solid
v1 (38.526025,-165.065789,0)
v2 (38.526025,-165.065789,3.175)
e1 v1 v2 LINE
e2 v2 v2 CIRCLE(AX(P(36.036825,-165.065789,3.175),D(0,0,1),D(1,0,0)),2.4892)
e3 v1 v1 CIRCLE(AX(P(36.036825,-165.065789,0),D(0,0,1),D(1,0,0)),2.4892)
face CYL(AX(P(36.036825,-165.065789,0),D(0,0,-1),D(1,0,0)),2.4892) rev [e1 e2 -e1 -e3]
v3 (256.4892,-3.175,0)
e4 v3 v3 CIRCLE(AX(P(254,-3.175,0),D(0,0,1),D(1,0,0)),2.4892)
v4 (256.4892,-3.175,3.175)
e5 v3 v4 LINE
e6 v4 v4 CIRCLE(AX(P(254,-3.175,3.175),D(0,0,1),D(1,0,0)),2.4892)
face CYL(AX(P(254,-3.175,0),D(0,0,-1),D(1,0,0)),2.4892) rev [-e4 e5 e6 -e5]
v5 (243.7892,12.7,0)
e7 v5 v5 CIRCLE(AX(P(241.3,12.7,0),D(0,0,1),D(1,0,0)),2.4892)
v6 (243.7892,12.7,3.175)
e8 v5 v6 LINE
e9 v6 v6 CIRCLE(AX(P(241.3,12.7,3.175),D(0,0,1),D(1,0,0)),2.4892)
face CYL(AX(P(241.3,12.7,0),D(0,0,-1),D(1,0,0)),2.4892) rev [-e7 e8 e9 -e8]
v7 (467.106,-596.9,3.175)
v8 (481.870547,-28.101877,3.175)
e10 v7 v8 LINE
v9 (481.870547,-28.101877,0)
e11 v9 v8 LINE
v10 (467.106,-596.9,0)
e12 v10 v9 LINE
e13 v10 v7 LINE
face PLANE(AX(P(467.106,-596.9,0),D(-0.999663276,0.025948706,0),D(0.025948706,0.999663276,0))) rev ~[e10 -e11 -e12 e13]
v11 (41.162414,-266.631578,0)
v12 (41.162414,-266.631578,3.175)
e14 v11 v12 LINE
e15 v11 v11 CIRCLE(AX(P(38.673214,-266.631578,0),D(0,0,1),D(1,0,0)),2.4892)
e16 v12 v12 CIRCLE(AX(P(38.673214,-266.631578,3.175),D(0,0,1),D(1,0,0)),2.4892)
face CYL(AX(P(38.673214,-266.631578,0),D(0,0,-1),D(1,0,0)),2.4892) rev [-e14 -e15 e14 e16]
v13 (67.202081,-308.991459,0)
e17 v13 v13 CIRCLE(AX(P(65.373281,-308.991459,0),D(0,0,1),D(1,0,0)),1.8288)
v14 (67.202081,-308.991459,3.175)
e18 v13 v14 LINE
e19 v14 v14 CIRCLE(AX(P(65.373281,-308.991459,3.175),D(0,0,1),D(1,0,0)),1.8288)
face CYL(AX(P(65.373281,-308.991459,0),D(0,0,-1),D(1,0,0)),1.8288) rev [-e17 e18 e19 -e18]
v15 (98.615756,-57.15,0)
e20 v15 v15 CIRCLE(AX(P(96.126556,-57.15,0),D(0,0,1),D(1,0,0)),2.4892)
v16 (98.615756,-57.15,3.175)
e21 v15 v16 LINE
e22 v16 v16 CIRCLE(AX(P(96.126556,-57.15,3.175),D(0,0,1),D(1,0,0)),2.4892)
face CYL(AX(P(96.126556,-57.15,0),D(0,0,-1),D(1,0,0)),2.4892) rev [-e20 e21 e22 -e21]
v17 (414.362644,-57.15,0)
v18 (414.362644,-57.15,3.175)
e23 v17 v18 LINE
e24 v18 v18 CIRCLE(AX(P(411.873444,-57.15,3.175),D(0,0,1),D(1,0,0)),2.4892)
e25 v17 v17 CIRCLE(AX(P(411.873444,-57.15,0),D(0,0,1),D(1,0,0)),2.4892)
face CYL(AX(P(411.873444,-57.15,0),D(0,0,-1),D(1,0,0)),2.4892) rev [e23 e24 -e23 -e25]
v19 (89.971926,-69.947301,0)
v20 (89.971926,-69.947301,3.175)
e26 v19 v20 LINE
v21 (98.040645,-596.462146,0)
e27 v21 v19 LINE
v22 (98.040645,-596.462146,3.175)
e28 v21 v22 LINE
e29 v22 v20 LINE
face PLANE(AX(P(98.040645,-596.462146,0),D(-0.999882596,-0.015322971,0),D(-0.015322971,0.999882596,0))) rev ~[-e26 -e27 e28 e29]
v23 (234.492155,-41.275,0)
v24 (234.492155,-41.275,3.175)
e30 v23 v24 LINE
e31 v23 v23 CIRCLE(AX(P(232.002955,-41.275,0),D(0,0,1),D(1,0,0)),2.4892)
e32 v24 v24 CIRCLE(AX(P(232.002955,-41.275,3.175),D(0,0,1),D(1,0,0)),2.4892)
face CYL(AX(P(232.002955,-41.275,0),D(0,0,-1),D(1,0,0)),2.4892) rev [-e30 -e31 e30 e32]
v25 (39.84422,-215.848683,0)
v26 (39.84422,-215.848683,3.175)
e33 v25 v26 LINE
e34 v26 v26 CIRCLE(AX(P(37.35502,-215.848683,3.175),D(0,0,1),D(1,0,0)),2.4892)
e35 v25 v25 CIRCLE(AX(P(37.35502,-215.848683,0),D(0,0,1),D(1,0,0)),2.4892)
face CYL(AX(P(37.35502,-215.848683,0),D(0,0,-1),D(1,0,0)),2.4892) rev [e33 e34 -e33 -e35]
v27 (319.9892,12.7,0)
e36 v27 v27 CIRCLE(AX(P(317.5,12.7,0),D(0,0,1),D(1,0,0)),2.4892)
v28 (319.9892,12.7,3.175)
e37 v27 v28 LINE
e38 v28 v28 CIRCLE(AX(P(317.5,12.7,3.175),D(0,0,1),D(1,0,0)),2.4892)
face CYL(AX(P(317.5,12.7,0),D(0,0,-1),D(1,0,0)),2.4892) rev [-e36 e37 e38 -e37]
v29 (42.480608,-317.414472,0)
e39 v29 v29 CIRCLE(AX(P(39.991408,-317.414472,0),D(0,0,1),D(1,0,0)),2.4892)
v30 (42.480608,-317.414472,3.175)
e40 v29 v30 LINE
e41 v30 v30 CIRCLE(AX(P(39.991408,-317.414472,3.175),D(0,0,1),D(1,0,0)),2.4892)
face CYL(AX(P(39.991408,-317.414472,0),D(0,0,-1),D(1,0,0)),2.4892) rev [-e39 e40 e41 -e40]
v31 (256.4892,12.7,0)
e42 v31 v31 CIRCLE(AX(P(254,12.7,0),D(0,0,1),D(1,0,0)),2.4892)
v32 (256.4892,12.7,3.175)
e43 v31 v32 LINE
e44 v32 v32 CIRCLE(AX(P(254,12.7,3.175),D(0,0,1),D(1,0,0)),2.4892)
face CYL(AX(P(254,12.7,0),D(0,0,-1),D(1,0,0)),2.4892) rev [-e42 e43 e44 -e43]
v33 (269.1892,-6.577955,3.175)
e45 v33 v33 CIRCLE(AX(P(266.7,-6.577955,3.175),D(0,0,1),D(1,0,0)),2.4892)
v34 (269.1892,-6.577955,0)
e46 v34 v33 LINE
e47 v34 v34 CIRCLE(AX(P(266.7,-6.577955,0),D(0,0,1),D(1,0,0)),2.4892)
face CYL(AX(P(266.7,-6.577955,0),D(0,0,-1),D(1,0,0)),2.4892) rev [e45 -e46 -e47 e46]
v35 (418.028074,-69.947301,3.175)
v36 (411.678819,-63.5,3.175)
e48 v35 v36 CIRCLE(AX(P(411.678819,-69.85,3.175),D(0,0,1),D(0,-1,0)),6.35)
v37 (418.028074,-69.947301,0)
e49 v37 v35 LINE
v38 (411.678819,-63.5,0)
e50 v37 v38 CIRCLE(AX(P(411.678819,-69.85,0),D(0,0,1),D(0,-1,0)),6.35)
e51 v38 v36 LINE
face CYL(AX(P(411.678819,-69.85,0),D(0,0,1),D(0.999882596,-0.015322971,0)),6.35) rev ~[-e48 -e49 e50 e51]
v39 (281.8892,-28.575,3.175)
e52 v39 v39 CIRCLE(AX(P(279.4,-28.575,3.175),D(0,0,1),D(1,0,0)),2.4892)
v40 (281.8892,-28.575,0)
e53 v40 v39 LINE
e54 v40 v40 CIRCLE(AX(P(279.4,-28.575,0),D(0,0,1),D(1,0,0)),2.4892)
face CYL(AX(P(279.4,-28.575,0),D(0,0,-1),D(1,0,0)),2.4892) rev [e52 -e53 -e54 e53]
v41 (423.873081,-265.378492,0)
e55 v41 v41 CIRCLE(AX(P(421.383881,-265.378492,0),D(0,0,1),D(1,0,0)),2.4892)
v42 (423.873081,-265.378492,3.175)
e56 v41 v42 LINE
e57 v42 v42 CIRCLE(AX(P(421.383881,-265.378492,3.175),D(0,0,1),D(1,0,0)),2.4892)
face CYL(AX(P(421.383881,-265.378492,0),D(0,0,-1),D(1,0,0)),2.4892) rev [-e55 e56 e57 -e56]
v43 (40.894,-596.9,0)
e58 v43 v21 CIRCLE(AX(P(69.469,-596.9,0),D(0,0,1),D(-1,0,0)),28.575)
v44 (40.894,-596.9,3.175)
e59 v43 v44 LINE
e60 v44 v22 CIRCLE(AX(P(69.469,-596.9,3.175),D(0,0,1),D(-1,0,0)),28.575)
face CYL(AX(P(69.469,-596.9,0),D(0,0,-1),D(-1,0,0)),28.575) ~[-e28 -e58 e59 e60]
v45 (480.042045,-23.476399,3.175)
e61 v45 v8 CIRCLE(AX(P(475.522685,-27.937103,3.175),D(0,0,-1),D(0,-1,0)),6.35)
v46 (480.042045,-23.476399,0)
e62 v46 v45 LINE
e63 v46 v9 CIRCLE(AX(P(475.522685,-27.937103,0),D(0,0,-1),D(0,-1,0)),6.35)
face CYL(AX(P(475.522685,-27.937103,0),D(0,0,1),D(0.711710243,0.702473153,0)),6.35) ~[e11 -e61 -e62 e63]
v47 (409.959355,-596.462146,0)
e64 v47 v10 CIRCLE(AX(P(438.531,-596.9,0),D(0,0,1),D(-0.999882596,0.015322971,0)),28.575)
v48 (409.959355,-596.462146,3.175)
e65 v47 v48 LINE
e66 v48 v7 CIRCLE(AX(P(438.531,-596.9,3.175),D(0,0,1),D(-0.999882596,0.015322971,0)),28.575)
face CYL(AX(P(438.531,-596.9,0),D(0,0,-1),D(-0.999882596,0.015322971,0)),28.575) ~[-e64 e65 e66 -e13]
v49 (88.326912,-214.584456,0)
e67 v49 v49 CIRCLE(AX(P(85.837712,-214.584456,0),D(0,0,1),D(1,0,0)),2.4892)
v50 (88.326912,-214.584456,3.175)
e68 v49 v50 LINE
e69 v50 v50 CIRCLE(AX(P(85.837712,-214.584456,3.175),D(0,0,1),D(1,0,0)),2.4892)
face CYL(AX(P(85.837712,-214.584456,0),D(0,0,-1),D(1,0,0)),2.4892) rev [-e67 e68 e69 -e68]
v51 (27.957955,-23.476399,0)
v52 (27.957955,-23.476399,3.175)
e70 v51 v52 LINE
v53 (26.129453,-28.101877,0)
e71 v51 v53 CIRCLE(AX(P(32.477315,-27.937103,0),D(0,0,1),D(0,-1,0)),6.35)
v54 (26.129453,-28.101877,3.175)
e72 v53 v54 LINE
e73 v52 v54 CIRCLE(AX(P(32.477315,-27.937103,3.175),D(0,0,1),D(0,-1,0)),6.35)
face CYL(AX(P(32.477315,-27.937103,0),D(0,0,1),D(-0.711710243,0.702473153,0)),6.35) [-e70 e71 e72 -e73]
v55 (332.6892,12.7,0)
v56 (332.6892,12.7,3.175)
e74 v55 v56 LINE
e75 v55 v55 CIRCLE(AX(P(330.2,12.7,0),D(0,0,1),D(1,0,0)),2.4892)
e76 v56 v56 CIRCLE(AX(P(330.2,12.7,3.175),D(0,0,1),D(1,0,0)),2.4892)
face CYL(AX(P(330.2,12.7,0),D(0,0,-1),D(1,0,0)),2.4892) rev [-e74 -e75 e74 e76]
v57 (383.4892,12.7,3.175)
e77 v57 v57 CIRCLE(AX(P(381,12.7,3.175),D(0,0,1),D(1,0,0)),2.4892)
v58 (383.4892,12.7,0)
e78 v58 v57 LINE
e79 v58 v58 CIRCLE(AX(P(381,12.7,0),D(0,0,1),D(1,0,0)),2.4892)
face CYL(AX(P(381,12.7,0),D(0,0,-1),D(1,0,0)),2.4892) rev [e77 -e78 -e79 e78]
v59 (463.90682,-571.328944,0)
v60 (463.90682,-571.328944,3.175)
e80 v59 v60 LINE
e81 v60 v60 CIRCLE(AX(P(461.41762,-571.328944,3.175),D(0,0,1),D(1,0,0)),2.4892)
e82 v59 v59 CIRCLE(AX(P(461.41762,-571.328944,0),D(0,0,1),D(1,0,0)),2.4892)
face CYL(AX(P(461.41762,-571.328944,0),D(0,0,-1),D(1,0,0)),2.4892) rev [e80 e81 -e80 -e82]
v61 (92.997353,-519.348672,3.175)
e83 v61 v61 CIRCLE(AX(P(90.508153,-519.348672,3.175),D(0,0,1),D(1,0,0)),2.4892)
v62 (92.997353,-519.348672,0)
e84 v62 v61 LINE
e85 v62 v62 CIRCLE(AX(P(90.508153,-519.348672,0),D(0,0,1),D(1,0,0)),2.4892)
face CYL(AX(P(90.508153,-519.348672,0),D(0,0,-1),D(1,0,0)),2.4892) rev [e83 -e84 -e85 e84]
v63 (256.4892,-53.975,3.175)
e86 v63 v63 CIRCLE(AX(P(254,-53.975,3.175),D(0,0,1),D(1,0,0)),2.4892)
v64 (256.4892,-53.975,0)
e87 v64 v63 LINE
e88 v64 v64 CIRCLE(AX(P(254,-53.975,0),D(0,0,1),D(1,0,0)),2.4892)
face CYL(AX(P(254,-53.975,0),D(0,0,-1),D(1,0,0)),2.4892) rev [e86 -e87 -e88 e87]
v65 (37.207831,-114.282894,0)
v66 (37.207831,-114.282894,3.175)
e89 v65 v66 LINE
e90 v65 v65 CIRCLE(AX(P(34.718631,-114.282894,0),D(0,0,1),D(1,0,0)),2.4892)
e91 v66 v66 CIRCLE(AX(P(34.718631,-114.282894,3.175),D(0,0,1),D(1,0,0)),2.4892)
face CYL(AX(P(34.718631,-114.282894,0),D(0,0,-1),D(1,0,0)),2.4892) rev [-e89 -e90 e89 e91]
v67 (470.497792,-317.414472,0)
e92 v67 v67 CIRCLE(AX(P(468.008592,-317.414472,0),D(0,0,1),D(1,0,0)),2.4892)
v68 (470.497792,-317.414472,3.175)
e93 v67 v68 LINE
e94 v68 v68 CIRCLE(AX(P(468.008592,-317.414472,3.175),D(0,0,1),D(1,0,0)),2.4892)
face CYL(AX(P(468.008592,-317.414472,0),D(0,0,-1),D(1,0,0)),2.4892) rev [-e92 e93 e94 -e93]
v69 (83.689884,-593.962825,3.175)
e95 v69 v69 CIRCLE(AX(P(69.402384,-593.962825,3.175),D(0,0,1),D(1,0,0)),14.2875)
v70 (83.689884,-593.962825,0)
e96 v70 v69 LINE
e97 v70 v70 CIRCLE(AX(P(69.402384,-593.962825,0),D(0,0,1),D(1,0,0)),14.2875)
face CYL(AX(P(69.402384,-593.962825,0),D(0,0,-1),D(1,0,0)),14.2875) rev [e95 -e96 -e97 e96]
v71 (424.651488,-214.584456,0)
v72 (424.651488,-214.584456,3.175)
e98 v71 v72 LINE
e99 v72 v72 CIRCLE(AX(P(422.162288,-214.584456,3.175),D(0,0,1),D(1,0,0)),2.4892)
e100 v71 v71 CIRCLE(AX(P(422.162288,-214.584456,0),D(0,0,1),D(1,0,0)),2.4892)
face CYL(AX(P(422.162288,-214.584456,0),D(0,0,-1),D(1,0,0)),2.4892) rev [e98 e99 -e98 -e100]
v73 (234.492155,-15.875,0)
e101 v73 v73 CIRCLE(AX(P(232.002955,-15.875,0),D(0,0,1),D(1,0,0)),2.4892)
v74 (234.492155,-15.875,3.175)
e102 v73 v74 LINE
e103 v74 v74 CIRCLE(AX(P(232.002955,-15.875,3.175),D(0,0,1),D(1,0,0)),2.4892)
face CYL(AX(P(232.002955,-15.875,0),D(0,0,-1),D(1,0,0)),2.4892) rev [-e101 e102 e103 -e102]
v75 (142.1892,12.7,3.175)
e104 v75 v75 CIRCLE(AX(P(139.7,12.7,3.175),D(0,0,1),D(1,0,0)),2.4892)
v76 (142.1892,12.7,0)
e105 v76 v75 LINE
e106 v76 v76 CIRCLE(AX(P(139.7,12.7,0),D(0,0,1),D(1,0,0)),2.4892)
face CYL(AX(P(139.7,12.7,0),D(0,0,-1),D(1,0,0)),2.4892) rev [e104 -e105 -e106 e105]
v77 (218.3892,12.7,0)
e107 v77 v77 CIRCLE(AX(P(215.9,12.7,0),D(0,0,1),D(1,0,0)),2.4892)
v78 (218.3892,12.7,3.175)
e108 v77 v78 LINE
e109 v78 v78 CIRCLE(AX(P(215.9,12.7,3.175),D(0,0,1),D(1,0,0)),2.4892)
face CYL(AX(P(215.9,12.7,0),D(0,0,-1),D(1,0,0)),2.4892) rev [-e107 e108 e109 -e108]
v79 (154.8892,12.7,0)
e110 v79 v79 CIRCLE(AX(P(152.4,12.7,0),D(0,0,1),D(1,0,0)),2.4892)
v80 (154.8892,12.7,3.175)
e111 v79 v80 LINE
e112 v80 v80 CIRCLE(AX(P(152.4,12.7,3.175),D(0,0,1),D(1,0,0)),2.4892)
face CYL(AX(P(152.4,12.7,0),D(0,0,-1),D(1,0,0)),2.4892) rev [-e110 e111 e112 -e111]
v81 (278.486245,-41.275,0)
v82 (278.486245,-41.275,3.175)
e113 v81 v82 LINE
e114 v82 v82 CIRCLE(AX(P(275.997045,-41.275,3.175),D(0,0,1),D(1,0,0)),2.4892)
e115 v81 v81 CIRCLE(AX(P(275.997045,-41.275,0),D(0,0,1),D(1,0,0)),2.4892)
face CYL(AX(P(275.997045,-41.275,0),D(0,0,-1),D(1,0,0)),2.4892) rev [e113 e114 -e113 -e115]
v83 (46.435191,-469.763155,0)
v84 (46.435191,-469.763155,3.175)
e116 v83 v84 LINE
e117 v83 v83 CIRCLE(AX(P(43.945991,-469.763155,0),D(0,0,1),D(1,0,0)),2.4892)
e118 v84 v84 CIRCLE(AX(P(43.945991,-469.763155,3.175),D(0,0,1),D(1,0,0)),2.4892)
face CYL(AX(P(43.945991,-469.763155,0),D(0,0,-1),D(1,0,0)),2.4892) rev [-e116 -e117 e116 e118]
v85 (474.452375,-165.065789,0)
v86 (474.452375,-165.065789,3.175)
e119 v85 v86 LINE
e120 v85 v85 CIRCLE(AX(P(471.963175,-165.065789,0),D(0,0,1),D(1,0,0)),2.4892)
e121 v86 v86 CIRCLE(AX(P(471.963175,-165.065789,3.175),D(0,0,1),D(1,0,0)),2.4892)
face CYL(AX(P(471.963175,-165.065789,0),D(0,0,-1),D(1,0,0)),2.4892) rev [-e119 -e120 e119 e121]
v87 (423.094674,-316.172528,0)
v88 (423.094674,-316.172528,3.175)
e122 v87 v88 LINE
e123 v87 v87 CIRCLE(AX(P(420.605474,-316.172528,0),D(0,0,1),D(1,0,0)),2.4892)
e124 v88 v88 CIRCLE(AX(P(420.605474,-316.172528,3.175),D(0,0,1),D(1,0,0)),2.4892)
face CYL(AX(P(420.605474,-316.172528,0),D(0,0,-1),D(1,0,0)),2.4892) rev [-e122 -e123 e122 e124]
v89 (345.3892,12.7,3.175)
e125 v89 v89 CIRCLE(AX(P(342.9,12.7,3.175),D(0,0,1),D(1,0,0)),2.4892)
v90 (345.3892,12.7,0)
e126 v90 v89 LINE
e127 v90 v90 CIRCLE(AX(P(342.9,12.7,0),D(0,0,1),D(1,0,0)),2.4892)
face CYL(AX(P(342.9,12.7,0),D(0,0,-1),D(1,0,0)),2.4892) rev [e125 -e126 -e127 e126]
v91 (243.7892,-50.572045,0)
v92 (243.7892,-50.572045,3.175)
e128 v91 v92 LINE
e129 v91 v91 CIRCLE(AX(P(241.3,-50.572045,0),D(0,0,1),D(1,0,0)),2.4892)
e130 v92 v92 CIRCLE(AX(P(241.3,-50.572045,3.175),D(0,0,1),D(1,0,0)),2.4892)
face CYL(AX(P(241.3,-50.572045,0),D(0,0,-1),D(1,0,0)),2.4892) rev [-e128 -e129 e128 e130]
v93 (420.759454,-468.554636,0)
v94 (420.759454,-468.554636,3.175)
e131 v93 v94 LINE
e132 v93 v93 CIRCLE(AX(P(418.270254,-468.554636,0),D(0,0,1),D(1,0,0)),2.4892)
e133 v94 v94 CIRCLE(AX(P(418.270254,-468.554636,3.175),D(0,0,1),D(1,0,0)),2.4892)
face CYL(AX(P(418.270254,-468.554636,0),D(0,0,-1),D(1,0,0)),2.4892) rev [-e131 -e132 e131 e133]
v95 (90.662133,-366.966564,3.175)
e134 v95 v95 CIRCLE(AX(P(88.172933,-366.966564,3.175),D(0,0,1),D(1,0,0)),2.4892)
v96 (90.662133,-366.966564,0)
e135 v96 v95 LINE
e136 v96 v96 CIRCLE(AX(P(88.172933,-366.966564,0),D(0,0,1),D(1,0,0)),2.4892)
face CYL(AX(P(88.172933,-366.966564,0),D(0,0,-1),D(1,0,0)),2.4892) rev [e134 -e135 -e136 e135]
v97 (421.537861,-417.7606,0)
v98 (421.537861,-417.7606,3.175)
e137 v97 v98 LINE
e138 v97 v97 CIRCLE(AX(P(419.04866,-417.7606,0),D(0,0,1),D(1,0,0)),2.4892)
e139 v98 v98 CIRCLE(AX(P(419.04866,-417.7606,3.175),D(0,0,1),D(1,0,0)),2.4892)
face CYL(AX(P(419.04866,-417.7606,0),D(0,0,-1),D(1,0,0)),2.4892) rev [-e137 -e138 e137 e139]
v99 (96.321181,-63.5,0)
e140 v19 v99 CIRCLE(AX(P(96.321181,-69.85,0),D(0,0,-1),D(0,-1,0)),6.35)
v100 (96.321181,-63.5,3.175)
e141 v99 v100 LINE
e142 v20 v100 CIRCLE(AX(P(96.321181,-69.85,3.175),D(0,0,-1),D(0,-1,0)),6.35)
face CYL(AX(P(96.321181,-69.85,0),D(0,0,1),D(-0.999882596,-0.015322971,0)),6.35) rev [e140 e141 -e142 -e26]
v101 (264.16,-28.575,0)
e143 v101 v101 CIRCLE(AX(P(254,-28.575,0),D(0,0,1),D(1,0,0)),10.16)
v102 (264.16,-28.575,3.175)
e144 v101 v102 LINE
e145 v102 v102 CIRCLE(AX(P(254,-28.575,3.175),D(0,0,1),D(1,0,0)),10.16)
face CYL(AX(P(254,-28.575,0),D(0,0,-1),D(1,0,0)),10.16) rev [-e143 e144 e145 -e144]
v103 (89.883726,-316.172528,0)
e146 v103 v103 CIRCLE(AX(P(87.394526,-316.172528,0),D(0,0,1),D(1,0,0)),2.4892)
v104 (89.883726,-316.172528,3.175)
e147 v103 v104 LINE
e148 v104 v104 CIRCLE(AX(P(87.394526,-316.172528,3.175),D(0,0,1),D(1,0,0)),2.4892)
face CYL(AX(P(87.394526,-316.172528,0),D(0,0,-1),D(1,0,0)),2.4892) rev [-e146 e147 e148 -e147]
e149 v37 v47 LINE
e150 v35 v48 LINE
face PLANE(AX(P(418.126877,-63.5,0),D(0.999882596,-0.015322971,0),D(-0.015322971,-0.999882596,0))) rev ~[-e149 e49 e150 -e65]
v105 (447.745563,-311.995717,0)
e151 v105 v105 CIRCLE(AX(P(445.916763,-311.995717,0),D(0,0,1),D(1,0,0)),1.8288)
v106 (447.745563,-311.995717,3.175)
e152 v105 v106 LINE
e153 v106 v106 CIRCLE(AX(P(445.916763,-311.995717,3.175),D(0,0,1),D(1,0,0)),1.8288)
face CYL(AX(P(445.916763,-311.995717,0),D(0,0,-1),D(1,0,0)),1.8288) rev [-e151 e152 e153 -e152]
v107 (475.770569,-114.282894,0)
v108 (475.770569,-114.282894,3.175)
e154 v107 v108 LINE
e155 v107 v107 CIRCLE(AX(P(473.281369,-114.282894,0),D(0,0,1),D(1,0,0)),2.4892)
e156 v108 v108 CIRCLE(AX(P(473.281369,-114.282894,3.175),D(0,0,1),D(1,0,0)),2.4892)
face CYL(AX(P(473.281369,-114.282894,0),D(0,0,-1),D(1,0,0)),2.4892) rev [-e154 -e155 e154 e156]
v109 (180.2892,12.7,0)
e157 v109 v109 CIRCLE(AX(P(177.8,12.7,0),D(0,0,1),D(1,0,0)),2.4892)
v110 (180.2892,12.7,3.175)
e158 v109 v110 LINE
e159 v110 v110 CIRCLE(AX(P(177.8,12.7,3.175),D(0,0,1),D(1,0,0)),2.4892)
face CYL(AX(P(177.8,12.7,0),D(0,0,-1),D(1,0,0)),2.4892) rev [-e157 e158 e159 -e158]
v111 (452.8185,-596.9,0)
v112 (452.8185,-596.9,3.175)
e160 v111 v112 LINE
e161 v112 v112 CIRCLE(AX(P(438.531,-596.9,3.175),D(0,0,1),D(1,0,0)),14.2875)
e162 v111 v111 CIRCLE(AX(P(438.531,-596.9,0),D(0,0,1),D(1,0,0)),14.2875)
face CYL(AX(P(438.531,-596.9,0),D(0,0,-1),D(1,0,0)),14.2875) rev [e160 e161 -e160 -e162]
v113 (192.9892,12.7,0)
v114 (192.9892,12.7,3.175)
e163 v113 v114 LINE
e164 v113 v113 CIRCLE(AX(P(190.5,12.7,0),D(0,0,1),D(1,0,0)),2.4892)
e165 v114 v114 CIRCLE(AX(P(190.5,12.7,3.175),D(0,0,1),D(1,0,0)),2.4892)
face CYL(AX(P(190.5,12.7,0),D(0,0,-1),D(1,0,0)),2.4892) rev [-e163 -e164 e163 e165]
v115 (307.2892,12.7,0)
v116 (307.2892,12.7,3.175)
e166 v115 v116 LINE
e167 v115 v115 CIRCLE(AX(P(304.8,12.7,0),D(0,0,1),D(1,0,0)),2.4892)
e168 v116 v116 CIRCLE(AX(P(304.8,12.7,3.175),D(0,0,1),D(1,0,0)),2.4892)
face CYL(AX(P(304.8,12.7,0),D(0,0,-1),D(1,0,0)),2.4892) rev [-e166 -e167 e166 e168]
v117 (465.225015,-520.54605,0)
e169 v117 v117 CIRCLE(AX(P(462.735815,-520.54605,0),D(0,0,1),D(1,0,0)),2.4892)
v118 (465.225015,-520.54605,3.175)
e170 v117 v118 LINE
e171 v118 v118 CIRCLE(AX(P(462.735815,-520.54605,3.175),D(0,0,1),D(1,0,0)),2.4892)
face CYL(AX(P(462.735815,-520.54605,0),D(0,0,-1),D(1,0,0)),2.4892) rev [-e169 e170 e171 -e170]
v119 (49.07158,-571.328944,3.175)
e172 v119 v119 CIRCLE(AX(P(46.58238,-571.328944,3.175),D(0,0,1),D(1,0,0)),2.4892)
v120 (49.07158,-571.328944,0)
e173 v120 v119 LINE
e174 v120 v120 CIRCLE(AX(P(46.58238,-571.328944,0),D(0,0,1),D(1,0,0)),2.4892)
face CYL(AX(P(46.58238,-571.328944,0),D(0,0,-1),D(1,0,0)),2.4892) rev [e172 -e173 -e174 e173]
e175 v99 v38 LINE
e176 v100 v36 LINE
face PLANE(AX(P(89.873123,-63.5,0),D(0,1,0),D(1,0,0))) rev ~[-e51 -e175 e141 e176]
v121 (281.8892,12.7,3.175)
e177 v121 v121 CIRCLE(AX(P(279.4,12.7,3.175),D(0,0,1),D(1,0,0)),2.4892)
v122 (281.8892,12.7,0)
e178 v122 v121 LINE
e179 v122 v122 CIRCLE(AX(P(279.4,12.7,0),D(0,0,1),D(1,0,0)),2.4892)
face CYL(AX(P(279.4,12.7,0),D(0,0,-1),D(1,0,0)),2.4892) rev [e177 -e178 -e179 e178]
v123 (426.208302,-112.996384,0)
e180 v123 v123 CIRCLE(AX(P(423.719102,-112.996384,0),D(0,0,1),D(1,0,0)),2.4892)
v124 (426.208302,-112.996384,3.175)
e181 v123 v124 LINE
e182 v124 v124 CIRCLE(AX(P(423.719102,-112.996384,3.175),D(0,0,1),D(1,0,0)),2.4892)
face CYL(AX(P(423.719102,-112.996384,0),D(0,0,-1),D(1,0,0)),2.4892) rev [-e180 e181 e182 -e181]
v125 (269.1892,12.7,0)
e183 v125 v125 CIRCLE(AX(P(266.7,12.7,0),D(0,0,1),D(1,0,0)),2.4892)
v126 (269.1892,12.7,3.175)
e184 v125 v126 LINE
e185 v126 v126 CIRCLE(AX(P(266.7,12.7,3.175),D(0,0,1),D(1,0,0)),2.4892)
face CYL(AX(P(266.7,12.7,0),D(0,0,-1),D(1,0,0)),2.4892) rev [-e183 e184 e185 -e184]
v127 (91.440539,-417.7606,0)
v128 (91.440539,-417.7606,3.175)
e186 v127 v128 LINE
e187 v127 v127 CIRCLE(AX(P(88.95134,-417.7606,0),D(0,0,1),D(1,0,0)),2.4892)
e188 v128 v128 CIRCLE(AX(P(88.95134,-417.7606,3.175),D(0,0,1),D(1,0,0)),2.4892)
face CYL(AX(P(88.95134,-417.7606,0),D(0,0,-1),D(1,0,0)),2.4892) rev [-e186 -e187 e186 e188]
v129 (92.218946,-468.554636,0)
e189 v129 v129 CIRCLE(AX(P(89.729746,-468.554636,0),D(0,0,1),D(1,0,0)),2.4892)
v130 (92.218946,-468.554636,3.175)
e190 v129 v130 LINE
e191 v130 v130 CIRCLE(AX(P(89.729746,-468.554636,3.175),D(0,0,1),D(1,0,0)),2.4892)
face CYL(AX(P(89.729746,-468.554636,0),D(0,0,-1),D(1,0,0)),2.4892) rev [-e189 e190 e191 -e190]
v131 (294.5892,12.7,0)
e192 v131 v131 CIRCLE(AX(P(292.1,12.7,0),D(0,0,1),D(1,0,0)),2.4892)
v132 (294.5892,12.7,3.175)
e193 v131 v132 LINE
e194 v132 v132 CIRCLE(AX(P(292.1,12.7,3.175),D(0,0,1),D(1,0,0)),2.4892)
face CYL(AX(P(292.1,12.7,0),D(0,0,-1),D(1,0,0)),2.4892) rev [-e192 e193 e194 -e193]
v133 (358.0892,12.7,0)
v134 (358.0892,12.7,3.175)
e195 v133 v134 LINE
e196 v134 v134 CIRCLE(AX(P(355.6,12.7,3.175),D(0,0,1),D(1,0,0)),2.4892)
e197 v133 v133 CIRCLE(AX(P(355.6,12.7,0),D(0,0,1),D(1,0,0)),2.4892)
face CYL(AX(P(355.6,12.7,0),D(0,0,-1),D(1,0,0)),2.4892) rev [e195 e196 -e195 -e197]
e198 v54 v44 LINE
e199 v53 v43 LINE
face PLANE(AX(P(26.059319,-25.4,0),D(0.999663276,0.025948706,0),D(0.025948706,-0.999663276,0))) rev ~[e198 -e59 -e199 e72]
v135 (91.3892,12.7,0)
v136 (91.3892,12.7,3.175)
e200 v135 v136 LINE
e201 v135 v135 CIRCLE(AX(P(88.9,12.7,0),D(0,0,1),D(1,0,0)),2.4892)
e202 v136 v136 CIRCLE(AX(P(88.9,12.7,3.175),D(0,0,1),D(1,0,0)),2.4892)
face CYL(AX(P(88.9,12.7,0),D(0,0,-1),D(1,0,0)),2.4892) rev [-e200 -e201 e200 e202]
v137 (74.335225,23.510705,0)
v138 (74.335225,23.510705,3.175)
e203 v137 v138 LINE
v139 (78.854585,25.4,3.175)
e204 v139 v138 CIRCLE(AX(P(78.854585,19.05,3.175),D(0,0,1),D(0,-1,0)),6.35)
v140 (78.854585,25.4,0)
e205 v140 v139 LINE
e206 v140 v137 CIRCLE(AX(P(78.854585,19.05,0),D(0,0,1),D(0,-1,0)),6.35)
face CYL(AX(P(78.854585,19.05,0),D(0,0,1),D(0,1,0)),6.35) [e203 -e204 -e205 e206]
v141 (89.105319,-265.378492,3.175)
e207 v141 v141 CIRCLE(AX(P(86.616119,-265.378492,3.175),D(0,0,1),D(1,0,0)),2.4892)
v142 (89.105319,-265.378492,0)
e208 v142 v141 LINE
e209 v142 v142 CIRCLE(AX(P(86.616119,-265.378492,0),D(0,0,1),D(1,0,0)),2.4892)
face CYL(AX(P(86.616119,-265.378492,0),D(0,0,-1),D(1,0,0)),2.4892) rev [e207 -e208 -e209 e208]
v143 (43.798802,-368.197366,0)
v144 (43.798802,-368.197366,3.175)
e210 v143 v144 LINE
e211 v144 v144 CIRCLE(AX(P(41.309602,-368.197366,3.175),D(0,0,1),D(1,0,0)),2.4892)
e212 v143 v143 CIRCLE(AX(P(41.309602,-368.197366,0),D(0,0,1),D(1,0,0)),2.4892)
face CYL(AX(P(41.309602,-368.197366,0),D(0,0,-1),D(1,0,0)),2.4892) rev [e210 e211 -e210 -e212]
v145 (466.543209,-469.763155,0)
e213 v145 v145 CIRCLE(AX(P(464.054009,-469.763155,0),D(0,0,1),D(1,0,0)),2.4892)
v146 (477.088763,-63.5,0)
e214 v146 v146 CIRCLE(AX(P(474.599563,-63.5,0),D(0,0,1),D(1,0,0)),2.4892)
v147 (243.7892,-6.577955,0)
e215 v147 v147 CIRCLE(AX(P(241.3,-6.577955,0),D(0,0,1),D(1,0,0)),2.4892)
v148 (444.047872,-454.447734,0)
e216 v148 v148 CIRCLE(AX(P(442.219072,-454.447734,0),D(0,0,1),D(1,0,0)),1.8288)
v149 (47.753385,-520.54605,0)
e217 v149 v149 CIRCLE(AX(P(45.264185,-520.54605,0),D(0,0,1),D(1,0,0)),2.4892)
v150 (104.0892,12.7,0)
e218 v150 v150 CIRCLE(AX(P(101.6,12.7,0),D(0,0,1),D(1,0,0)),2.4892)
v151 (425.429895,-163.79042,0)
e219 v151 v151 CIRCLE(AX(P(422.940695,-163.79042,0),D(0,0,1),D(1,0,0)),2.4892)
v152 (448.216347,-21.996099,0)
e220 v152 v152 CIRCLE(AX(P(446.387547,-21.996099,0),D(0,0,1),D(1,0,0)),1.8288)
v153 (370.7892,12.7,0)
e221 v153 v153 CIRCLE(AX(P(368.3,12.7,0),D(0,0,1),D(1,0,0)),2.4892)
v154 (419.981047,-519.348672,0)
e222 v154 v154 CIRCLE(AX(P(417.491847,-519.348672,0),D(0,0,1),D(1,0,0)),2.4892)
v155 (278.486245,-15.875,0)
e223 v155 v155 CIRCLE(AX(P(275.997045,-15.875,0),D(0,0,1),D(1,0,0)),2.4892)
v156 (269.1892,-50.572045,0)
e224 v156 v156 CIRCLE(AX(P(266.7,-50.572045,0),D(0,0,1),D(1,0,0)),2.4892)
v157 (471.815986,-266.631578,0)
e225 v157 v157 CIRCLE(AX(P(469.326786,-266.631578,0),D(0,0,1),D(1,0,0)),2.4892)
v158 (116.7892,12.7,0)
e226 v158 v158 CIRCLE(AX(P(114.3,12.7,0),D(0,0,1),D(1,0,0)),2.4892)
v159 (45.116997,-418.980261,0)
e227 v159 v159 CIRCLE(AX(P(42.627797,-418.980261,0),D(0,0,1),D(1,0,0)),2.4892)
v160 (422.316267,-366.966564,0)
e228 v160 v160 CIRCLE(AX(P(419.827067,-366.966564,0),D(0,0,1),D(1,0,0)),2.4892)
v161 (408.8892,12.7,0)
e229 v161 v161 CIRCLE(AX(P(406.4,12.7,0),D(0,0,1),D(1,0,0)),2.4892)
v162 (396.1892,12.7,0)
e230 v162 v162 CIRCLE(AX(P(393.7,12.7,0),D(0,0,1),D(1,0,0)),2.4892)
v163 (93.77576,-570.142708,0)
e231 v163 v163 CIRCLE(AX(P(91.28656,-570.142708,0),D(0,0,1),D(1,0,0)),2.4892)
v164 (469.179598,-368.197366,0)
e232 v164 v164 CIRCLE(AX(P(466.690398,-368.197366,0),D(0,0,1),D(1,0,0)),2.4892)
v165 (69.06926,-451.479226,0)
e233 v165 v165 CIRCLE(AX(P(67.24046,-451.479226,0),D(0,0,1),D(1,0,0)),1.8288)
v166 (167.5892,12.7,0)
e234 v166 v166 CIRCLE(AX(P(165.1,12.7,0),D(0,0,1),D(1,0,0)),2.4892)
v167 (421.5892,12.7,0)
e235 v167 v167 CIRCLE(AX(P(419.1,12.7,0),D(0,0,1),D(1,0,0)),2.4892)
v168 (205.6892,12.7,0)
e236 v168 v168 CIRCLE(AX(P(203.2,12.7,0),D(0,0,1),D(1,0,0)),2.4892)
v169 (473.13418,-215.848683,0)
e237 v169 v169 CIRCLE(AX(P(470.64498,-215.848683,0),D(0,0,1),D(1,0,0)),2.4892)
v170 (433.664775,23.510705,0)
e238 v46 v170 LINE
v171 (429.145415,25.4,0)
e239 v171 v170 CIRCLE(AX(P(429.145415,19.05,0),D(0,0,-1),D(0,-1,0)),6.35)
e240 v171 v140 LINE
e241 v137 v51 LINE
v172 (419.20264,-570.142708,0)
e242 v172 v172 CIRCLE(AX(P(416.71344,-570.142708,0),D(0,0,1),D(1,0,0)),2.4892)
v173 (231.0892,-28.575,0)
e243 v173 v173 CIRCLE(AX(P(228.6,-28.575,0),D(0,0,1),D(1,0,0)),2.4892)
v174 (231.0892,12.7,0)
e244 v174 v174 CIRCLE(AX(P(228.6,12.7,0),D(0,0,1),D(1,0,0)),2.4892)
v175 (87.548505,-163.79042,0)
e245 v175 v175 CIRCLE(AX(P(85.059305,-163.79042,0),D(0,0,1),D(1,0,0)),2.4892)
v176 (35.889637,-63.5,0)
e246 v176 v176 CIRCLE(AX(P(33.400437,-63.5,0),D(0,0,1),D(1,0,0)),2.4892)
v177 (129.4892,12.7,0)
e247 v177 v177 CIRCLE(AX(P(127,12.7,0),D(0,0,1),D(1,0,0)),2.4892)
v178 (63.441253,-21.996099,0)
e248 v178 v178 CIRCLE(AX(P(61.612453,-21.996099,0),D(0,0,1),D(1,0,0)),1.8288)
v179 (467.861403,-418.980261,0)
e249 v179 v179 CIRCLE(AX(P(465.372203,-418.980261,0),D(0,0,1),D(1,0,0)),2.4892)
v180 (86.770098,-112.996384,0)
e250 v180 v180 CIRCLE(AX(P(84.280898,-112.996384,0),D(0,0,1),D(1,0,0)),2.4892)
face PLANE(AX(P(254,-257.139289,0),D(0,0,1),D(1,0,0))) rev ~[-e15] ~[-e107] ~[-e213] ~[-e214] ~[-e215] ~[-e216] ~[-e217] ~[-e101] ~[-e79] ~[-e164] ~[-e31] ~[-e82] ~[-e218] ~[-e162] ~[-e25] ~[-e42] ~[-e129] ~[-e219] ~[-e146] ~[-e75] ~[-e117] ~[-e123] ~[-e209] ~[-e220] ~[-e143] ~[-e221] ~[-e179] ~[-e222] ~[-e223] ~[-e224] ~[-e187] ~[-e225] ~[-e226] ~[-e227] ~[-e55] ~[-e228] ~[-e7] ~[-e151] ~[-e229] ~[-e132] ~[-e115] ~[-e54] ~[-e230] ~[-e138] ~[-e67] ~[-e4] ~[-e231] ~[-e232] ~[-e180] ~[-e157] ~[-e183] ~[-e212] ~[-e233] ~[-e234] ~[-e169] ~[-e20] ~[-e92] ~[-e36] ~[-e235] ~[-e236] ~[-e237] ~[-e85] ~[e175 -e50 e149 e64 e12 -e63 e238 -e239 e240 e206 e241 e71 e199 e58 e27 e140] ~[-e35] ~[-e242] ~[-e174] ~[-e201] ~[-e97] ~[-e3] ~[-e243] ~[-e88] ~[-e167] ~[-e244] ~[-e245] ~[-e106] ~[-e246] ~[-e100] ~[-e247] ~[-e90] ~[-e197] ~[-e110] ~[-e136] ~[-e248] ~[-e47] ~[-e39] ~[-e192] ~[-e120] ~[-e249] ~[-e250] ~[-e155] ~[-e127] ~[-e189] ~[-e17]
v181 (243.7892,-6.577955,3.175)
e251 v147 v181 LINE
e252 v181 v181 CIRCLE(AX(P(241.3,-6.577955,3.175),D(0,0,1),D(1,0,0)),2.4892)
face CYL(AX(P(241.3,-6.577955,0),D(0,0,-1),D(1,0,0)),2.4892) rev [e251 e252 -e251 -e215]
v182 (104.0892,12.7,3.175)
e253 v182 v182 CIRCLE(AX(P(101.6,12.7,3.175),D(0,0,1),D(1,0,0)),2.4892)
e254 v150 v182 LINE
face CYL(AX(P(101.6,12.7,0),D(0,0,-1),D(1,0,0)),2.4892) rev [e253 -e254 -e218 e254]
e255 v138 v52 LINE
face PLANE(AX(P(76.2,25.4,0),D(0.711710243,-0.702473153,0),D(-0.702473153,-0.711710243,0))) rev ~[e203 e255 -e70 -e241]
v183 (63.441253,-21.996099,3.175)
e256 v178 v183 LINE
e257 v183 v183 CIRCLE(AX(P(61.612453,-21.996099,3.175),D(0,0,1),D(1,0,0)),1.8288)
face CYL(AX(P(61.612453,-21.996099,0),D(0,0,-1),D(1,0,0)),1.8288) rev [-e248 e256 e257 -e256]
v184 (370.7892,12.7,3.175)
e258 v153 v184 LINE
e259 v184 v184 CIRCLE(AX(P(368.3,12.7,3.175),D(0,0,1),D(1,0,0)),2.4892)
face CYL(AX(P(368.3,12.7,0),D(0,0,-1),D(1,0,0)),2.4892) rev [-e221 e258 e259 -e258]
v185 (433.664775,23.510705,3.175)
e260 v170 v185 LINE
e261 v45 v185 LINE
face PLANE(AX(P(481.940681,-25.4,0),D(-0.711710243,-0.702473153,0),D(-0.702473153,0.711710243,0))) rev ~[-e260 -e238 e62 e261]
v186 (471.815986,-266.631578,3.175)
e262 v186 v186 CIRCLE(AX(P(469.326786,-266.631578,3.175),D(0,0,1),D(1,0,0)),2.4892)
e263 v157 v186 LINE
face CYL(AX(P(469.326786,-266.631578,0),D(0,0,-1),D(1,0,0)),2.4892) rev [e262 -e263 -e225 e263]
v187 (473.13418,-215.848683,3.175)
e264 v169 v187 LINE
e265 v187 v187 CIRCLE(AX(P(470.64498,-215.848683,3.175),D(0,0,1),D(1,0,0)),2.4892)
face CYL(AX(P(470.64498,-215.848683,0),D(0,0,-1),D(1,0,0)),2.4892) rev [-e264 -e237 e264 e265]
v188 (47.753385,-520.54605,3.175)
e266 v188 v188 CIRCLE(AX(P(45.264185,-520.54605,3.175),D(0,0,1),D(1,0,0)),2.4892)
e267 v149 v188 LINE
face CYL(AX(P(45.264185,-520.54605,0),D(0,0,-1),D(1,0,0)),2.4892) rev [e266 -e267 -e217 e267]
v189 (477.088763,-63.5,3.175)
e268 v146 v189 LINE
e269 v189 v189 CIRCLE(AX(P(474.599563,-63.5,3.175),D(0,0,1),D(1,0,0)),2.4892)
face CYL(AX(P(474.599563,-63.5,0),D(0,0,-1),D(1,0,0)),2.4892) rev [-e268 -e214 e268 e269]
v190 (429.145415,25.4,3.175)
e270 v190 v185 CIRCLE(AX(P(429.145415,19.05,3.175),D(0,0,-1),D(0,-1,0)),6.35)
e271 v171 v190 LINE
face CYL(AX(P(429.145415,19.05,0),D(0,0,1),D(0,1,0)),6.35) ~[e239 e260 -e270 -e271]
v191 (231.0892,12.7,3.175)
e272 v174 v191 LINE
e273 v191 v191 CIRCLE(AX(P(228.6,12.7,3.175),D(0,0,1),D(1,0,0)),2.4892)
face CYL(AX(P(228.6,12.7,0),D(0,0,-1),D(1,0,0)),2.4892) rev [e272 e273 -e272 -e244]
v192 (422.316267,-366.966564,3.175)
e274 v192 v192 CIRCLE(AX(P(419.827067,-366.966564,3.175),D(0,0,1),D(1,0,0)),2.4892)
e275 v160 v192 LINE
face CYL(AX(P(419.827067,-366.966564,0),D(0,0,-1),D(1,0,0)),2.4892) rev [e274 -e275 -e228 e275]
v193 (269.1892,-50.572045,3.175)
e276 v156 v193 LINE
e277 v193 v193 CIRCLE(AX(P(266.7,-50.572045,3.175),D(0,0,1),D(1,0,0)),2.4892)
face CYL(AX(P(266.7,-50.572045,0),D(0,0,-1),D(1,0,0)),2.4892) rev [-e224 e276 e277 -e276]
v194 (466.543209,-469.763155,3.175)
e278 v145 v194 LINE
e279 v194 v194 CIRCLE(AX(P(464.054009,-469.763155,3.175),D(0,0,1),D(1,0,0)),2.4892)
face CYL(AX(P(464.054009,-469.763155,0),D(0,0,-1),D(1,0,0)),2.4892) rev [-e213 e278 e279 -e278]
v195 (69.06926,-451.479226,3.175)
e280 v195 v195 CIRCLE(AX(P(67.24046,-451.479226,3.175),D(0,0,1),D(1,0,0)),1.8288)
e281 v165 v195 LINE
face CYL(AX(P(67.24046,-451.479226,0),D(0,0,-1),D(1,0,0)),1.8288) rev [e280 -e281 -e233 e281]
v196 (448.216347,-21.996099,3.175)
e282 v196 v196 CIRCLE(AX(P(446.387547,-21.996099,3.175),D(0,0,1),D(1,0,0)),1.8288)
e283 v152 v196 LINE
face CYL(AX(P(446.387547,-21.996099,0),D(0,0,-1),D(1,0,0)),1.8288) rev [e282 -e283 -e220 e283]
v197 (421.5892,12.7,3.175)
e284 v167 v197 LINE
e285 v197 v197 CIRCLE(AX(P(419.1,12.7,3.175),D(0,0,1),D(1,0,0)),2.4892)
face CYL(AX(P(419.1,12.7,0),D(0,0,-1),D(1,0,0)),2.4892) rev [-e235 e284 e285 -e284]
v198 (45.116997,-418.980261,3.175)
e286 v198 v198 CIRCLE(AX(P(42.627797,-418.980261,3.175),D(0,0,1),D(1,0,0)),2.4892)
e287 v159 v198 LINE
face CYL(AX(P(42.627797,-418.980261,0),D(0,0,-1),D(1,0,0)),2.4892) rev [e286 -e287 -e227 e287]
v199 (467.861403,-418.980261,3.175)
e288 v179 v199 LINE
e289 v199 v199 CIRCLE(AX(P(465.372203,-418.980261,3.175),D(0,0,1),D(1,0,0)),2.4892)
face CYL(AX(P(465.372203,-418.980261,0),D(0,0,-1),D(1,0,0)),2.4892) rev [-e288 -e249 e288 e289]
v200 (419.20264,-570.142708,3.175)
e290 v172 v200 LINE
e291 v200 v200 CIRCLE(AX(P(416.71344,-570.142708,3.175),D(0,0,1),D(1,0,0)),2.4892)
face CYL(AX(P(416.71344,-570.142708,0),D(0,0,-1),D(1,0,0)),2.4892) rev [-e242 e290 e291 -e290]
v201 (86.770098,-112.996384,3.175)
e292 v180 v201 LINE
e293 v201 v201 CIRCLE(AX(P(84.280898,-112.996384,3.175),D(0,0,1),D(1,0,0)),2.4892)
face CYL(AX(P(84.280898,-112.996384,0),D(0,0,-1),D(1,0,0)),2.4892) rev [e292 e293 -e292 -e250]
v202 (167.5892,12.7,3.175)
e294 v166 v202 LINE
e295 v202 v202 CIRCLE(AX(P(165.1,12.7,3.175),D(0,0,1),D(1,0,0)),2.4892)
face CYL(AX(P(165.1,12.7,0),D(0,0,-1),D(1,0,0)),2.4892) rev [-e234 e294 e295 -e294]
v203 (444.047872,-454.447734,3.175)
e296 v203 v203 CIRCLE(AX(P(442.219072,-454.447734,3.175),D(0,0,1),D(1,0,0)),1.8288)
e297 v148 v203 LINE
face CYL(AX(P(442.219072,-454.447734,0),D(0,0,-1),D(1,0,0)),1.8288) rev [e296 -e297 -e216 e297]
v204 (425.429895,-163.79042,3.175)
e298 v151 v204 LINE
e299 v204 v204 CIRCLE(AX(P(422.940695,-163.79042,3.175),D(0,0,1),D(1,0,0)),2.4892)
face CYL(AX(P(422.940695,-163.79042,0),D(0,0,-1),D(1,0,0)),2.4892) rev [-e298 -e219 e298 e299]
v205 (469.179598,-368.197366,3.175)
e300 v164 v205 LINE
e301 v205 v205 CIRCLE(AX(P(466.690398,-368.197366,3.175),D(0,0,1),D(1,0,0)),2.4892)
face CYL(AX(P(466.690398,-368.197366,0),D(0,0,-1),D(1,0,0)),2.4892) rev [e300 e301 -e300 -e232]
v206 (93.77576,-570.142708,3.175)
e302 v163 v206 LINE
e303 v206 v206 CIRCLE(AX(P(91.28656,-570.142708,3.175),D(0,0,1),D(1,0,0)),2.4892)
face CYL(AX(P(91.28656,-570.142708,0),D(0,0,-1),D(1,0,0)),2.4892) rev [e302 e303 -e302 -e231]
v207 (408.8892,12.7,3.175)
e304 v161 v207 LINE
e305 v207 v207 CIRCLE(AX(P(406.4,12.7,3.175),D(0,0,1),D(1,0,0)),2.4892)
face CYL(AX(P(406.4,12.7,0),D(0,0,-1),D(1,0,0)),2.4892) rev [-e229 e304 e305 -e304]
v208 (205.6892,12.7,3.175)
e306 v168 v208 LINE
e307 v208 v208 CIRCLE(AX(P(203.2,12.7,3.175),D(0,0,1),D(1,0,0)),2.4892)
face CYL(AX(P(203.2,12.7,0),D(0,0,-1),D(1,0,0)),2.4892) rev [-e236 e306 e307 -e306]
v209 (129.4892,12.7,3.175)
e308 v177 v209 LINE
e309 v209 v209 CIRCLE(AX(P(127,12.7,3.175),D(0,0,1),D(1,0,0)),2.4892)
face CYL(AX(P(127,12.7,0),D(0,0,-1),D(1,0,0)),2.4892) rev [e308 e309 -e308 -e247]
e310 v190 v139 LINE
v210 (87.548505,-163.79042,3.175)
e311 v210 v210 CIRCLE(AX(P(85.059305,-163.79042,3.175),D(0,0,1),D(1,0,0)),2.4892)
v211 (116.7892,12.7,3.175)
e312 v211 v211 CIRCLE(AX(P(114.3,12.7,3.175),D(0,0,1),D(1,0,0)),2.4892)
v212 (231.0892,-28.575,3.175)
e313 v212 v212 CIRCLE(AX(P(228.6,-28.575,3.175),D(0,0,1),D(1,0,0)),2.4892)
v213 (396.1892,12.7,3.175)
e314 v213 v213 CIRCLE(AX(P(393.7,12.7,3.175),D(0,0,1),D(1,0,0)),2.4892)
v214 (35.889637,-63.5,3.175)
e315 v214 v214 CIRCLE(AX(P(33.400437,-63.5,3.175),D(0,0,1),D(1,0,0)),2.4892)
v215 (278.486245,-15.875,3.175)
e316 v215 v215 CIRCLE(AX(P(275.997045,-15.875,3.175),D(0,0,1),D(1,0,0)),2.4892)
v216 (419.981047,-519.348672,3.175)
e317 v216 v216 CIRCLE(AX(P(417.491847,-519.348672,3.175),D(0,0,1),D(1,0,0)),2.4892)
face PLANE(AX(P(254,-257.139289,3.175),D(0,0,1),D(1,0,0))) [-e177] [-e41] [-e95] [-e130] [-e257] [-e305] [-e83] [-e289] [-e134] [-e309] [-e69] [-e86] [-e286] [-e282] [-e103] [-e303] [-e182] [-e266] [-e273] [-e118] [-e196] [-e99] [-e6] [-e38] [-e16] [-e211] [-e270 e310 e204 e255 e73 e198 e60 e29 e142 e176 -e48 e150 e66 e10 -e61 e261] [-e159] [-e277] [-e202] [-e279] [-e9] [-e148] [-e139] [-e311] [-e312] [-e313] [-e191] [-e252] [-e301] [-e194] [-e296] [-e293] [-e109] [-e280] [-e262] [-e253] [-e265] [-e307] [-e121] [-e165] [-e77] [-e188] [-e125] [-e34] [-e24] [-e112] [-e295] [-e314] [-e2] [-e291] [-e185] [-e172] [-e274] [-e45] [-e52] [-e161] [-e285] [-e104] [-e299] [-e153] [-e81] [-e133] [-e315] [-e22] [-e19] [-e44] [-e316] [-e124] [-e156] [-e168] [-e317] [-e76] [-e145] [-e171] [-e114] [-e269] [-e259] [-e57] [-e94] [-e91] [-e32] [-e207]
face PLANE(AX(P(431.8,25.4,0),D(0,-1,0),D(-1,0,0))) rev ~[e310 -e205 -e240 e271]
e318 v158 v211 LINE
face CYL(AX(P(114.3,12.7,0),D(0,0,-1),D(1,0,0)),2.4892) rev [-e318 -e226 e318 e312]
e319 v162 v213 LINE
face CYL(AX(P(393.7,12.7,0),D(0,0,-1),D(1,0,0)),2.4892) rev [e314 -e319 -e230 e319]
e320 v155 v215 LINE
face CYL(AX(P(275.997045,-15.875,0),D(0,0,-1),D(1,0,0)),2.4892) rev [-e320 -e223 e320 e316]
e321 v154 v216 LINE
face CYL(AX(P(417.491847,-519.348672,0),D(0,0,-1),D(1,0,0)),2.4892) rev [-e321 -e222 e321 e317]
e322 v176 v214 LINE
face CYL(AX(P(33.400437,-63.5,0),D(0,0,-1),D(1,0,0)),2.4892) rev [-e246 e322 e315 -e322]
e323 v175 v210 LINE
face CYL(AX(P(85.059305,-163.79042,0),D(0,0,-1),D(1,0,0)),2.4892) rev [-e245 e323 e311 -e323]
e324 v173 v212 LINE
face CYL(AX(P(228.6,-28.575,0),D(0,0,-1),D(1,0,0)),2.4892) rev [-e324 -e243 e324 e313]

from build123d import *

# Parameters (mm, degrees)
SKETCH1_R           = 14.2875
SKETCH1_R_2         = 2.4892
SKETCH1_R_3         = 1.8288
SKETCH1_R_4         = 10.16
BOSS_EXTRUDE1_DEPTH = 3.175
FILLET1_R           = 6.35


with BuildPart() as part:
    # Sketch1 → Boss-Extrude1 (new body)
    with BuildSketch(Plane.XY):
        with BuildLine():
            Line((431.8, 25.4), (76.2, 25.4))
            Line((76.2, 25.4), (26.059319149, -25.4))
            Line((26.059319149, -25.4), (40.894, -596.9))
            ThreePointArc((40.894, -596.9), (69.687933371, -625.474161286), (98.040645192, -596.462146109))
            Line((98.040645192, -596.462146109), (89.873122894, -63.5))
            Line((89.873122894, -63.5), (418.126877106, -63.5))
            Line((418.126877106, -63.5), (409.959354808, -596.462146109))
            ThreePointArc((409.959354808, -596.462146109), (438.312066629, -625.474161286), (467.106, -596.9))
            Line((467.106, -596.9), (481.940680851, -25.4))
            Line((481.940680851, -25.4), (431.8, 25.4))
        make_face()
        with Locations((69.402383578, -593.962825081)):
            Circle(SKETCH1_R, mode=Mode.SUBTRACT)
        with Locations((46.582379595, -571.328944019)):
            Circle(SKETCH1_R_2, mode=Mode.SUBTRACT)
        with Locations((91.28656025, -570.142707564)):
            Circle(SKETCH1_R_2, mode=Mode.SUBTRACT)
        with Locations((45.264185314, -520.546049618)):
            Circle(SKETCH1_R_2, mode=Mode.SUBTRACT)
        with Locations((43.945991034, -469.763155216)):
            Circle(SKETCH1_R_2, mode=Mode.SUBTRACT)
        with Locations((90.508153333, -519.348671668)):
            Circle(SKETCH1_R_2, mode=Mode.SUBTRACT)
        with Locations((89.729746417, -468.554635771)):
            Circle(SKETCH1_R_2, mode=Mode.SUBTRACT)
        with Locations((67.240460084, -451.479225721)):
            Circle(SKETCH1_R_3, mode=Mode.SUBTRACT)
        with Locations((42.627796754, -418.980260814)):
            Circle(SKETCH1_R_2, mode=Mode.SUBTRACT)
        with Locations((88.9513395, -417.760599874)):
            Circle(SKETCH1_R_2, mode=Mode.SUBTRACT)
        with Locations((41.309602474, -368.197366412)):
            Circle(SKETCH1_R_2, mode=Mode.SUBTRACT)
        with Locations((39.991408193, -317.41447201)):
            Circle(SKETCH1_R_2, mode=Mode.SUBTRACT)
        with Locations((65.373280571, -308.991459085)):
            Circle(SKETCH1_R_3, mode=Mode.SUBTRACT)
        with Locations((88.172932583, -366.966563978)):
            Circle(SKETCH1_R_2, mode=Mode.SUBTRACT)
        with Locations((87.394525667, -316.172528081)):
            Circle(SKETCH1_R_2, mode=Mode.SUBTRACT)
        with Locations((416.71343975, -570.142707564)):
            Circle(SKETCH1_R_2, mode=Mode.SUBTRACT)
        with Locations((438.531, -596.9)):
            Circle(SKETCH1_R, mode=Mode.SUBTRACT)
        with Locations((461.417620405, -571.328944019)):
            Circle(SKETCH1_R_2, mode=Mode.SUBTRACT)
        with Locations((417.491846667, -519.348671668)):
            Circle(SKETCH1_R_2, mode=Mode.SUBTRACT)
        with Locations((418.270253583, -468.554635771)):
            Circle(SKETCH1_R_2, mode=Mode.SUBTRACT)
        with Locations((462.735814686, -520.546049618)):
            Circle(SKETCH1_R_2, mode=Mode.SUBTRACT)
        with Locations((464.054008966, -469.763155216)):
            Circle(SKETCH1_R_2, mode=Mode.SUBTRACT)
        with Locations((419.0486605, -417.760599874)):
            Circle(SKETCH1_R_2, mode=Mode.SUBTRACT)
        with Locations((442.219071981, -454.447733872)):
            Circle(SKETCH1_R_3, mode=Mode.SUBTRACT)
        with Locations((465.372203246, -418.980260814)):
            Circle(SKETCH1_R_2, mode=Mode.SUBTRACT)
        with Locations((419.827067417, -366.966563978)):
            Circle(SKETCH1_R_2, mode=Mode.SUBTRACT)
        with Locations((420.605474333, -316.172528081)):
            Circle(SKETCH1_R_2, mode=Mode.SUBTRACT)
        with Locations((466.690397526, -368.197366412)):
            Circle(SKETCH1_R_2, mode=Mode.SUBTRACT)
        with Locations((445.916762629, -311.995717095)):
            Circle(SKETCH1_R_3, mode=Mode.SUBTRACT)
        with Locations((468.008591807, -317.41447201)):
            Circle(SKETCH1_R_2, mode=Mode.SUBTRACT)
        with Locations((38.673213913, -266.631577608)):
            Circle(SKETCH1_R_2, mode=Mode.SUBTRACT)
        with Locations((86.61611875, -265.378492184)):
            Circle(SKETCH1_R_2, mode=Mode.SUBTRACT)
        with Locations((37.355019633, -215.848683206)):
            Circle(SKETCH1_R_2, mode=Mode.SUBTRACT)
        with Locations((36.036825353, -165.065788804)):
            Circle(SKETCH1_R_2, mode=Mode.SUBTRACT)
        with Locations((85.837711834, -214.584456288)):
            Circle(SKETCH1_R_2, mode=Mode.SUBTRACT)
        with Locations((85.059304917, -163.790420391)):
            Circle(SKETCH1_R_2, mode=Mode.SUBTRACT)
        with Locations((34.718631073, -114.282894402)):
            Circle(SKETCH1_R_2, mode=Mode.SUBTRACT)
        with Locations((33.400436792, -63.5)):
            Circle(SKETCH1_R_2, mode=Mode.SUBTRACT)
        with Locations((84.280898001, -112.996384494)):
            Circle(SKETCH1_R_2, mode=Mode.SUBTRACT)
        with Locations((61.612453458, -21.996099229)):
            Circle(SKETCH1_R_3, mode=Mode.SUBTRACT)
        with Locations((88.9, 12.7)):
            Circle(SKETCH1_R_2, mode=Mode.SUBTRACT)
        with Locations((101.6, 12.7)):
            Circle(SKETCH1_R_2, mode=Mode.SUBTRACT)
        with Locations((114.3, 12.7)):
            Circle(SKETCH1_R_2, mode=Mode.SUBTRACT)
        with Locations((127, 12.7)):
            Circle(SKETCH1_R_2, mode=Mode.SUBTRACT)
        with Locations((139.7, 12.7)):
            Circle(SKETCH1_R_2, mode=Mode.SUBTRACT)
        with Locations((152.4, 12.7)):
            Circle(SKETCH1_R_2, mode=Mode.SUBTRACT)
        with Locations((165.1, 12.7)):
            Circle(SKETCH1_R_2, mode=Mode.SUBTRACT)
        with Locations((177.8, 12.7)):
            Circle(SKETCH1_R_2, mode=Mode.SUBTRACT)
        with Locations((190.5, 12.7)):
            Circle(SKETCH1_R_2, mode=Mode.SUBTRACT)
        with Locations((203.2, 12.7)):
            Circle(SKETCH1_R_2, mode=Mode.SUBTRACT)
        with Locations((215.9, 12.7)):
            Circle(SKETCH1_R_2, mode=Mode.SUBTRACT)
        with Locations((228.6, 12.7)):
            Circle(SKETCH1_R_2, mode=Mode.SUBTRACT)
        with Locations((241.3, 12.7)):
            Circle(SKETCH1_R_2, mode=Mode.SUBTRACT)
        with Locations((421.38388125, -265.378492184)):
            Circle(SKETCH1_R_2, mode=Mode.SUBTRACT)
        with Locations((469.326786087, -266.631577608)):
            Circle(SKETCH1_R_2, mode=Mode.SUBTRACT)
        with Locations((422.162288166, -214.584456288)):
            Circle(SKETCH1_R_2, mode=Mode.SUBTRACT)
        with Locations((422.940695083, -163.790420391)):
            Circle(SKETCH1_R_2, mode=Mode.SUBTRACT)
        with Locations((470.644980367, -215.848683206)):
            Circle(SKETCH1_R_2, mode=Mode.SUBTRACT)
        with Locations((471.963174647, -165.065788804)):
            Circle(SKETCH1_R_2, mode=Mode.SUBTRACT)
        with Locations((254, 12.7)):
            Circle(SKETCH1_R_2, mode=Mode.SUBTRACT)
        with Locations((266.7, 12.7)):
            Circle(SKETCH1_R_2, mode=Mode.SUBTRACT)
        with Locations((279.4, 12.7)):
            Circle(SKETCH1_R_2, mode=Mode.SUBTRACT)
        with Locations((292.1, 12.7)):
            Circle(SKETCH1_R_2, mode=Mode.SUBTRACT)
        with Locations((304.8, 12.7)):
            Circle(SKETCH1_R_2, mode=Mode.SUBTRACT)
        with Locations((317.5, 12.7)):
            Circle(SKETCH1_R_2, mode=Mode.SUBTRACT)
        with Locations((330.2, 12.7)):
            Circle(SKETCH1_R_2, mode=Mode.SUBTRACT)
        with Locations((342.9, 12.7)):
            Circle(SKETCH1_R_2, mode=Mode.SUBTRACT)
        with Locations((355.6, 12.7)):
            Circle(SKETCH1_R_2, mode=Mode.SUBTRACT)
        with Locations((423.719101999, -112.996384494)):
            Circle(SKETCH1_R_2, mode=Mode.SUBTRACT)
        with Locations((473.281368927, -114.282894402)):
            Circle(SKETCH1_R_2, mode=Mode.SUBTRACT)
        with Locations((474.599563208, -63.5)):
            Circle(SKETCH1_R_2, mode=Mode.SUBTRACT)
        with Locations((368.3, 12.7)):
            Circle(SKETCH1_R_2, mode=Mode.SUBTRACT)
        with Locations((381, 12.7)):
            Circle(SKETCH1_R_2, mode=Mode.SUBTRACT)
        with Locations((393.7, 12.7)):
            Circle(SKETCH1_R_2, mode=Mode.SUBTRACT)
        with Locations((406.4, 12.7)):
            Circle(SKETCH1_R_2, mode=Mode.SUBTRACT)
        with Locations((419.1, 12.7)):
            Circle(SKETCH1_R_2, mode=Mode.SUBTRACT)
        with Locations((446.387546542, -21.996099229)):
            Circle(SKETCH1_R_3, mode=Mode.SUBTRACT)
        with Locations((266.7, -6.577954744)):
            Circle(SKETCH1_R_2, mode=Mode.SUBTRACT)
        with Locations((254, -3.175)):
            Circle(SKETCH1_R_2, mode=Mode.SUBTRACT)
        with Locations((411.873443795, -57.15)):
            Circle(SKETCH1_R_2, mode=Mode.SUBTRACT)
        with Locations((96.126556205, -57.15)):
            Circle(SKETCH1_R_2, mode=Mode.SUBTRACT)
        with Locations((232.002954744, -41.275)):
            Circle(SKETCH1_R_2, mode=Mode.SUBTRACT)
        with Locations((241.3, -50.572045256)):
            Circle(SKETCH1_R_2, mode=Mode.SUBTRACT)
        with Locations((228.6, -28.575)):
            Circle(SKETCH1_R_2, mode=Mode.SUBTRACT)
        with Locations((232.002954744, -15.875)):
            Circle(SKETCH1_R_2, mode=Mode.SUBTRACT)
        with Locations((241.3, -6.577954744)):
            Circle(SKETCH1_R_2, mode=Mode.SUBTRACT)
        with Locations((254, -53.975)):
            Circle(SKETCH1_R_2, mode=Mode.SUBTRACT)
        with Locations((266.7, -50.572045256)):
            Circle(SKETCH1_R_2, mode=Mode.SUBTRACT)
        with Locations((275.997045256, -41.275)):
            Circle(SKETCH1_R_2, mode=Mode.SUBTRACT)
        with Locations((254, -28.575)):
            Circle(SKETCH1_R_4, mode=Mode.SUBTRACT)
        with Locations((279.4, -28.575)):
            Circle(SKETCH1_R_2, mode=Mode.SUBTRACT)
        with Locations((275.997045256, -15.875)):
            Circle(SKETCH1_R_2, mode=Mode.SUBTRACT)
    extrude(amount=BOSS_EXTRUDE1_DEPTH)

    # Fillet1
    fillet1_edges = [part.edges().sort_by_distance(p)[0] for p in [
        (26.059319149, -25.4, 1.5875),
        (76.2, 25.4, 1.5875),
        (431.8, 25.4, 1.5875),
        (481.940680851, -25.4, 1.5875),
        (418.126877106, -63.5, 1.5875),
        (89.873122894, -63.5, 1.5875),
    ]]
    fillet(fillet1_edges, radius=FILLET1_R)


solid = part.part
